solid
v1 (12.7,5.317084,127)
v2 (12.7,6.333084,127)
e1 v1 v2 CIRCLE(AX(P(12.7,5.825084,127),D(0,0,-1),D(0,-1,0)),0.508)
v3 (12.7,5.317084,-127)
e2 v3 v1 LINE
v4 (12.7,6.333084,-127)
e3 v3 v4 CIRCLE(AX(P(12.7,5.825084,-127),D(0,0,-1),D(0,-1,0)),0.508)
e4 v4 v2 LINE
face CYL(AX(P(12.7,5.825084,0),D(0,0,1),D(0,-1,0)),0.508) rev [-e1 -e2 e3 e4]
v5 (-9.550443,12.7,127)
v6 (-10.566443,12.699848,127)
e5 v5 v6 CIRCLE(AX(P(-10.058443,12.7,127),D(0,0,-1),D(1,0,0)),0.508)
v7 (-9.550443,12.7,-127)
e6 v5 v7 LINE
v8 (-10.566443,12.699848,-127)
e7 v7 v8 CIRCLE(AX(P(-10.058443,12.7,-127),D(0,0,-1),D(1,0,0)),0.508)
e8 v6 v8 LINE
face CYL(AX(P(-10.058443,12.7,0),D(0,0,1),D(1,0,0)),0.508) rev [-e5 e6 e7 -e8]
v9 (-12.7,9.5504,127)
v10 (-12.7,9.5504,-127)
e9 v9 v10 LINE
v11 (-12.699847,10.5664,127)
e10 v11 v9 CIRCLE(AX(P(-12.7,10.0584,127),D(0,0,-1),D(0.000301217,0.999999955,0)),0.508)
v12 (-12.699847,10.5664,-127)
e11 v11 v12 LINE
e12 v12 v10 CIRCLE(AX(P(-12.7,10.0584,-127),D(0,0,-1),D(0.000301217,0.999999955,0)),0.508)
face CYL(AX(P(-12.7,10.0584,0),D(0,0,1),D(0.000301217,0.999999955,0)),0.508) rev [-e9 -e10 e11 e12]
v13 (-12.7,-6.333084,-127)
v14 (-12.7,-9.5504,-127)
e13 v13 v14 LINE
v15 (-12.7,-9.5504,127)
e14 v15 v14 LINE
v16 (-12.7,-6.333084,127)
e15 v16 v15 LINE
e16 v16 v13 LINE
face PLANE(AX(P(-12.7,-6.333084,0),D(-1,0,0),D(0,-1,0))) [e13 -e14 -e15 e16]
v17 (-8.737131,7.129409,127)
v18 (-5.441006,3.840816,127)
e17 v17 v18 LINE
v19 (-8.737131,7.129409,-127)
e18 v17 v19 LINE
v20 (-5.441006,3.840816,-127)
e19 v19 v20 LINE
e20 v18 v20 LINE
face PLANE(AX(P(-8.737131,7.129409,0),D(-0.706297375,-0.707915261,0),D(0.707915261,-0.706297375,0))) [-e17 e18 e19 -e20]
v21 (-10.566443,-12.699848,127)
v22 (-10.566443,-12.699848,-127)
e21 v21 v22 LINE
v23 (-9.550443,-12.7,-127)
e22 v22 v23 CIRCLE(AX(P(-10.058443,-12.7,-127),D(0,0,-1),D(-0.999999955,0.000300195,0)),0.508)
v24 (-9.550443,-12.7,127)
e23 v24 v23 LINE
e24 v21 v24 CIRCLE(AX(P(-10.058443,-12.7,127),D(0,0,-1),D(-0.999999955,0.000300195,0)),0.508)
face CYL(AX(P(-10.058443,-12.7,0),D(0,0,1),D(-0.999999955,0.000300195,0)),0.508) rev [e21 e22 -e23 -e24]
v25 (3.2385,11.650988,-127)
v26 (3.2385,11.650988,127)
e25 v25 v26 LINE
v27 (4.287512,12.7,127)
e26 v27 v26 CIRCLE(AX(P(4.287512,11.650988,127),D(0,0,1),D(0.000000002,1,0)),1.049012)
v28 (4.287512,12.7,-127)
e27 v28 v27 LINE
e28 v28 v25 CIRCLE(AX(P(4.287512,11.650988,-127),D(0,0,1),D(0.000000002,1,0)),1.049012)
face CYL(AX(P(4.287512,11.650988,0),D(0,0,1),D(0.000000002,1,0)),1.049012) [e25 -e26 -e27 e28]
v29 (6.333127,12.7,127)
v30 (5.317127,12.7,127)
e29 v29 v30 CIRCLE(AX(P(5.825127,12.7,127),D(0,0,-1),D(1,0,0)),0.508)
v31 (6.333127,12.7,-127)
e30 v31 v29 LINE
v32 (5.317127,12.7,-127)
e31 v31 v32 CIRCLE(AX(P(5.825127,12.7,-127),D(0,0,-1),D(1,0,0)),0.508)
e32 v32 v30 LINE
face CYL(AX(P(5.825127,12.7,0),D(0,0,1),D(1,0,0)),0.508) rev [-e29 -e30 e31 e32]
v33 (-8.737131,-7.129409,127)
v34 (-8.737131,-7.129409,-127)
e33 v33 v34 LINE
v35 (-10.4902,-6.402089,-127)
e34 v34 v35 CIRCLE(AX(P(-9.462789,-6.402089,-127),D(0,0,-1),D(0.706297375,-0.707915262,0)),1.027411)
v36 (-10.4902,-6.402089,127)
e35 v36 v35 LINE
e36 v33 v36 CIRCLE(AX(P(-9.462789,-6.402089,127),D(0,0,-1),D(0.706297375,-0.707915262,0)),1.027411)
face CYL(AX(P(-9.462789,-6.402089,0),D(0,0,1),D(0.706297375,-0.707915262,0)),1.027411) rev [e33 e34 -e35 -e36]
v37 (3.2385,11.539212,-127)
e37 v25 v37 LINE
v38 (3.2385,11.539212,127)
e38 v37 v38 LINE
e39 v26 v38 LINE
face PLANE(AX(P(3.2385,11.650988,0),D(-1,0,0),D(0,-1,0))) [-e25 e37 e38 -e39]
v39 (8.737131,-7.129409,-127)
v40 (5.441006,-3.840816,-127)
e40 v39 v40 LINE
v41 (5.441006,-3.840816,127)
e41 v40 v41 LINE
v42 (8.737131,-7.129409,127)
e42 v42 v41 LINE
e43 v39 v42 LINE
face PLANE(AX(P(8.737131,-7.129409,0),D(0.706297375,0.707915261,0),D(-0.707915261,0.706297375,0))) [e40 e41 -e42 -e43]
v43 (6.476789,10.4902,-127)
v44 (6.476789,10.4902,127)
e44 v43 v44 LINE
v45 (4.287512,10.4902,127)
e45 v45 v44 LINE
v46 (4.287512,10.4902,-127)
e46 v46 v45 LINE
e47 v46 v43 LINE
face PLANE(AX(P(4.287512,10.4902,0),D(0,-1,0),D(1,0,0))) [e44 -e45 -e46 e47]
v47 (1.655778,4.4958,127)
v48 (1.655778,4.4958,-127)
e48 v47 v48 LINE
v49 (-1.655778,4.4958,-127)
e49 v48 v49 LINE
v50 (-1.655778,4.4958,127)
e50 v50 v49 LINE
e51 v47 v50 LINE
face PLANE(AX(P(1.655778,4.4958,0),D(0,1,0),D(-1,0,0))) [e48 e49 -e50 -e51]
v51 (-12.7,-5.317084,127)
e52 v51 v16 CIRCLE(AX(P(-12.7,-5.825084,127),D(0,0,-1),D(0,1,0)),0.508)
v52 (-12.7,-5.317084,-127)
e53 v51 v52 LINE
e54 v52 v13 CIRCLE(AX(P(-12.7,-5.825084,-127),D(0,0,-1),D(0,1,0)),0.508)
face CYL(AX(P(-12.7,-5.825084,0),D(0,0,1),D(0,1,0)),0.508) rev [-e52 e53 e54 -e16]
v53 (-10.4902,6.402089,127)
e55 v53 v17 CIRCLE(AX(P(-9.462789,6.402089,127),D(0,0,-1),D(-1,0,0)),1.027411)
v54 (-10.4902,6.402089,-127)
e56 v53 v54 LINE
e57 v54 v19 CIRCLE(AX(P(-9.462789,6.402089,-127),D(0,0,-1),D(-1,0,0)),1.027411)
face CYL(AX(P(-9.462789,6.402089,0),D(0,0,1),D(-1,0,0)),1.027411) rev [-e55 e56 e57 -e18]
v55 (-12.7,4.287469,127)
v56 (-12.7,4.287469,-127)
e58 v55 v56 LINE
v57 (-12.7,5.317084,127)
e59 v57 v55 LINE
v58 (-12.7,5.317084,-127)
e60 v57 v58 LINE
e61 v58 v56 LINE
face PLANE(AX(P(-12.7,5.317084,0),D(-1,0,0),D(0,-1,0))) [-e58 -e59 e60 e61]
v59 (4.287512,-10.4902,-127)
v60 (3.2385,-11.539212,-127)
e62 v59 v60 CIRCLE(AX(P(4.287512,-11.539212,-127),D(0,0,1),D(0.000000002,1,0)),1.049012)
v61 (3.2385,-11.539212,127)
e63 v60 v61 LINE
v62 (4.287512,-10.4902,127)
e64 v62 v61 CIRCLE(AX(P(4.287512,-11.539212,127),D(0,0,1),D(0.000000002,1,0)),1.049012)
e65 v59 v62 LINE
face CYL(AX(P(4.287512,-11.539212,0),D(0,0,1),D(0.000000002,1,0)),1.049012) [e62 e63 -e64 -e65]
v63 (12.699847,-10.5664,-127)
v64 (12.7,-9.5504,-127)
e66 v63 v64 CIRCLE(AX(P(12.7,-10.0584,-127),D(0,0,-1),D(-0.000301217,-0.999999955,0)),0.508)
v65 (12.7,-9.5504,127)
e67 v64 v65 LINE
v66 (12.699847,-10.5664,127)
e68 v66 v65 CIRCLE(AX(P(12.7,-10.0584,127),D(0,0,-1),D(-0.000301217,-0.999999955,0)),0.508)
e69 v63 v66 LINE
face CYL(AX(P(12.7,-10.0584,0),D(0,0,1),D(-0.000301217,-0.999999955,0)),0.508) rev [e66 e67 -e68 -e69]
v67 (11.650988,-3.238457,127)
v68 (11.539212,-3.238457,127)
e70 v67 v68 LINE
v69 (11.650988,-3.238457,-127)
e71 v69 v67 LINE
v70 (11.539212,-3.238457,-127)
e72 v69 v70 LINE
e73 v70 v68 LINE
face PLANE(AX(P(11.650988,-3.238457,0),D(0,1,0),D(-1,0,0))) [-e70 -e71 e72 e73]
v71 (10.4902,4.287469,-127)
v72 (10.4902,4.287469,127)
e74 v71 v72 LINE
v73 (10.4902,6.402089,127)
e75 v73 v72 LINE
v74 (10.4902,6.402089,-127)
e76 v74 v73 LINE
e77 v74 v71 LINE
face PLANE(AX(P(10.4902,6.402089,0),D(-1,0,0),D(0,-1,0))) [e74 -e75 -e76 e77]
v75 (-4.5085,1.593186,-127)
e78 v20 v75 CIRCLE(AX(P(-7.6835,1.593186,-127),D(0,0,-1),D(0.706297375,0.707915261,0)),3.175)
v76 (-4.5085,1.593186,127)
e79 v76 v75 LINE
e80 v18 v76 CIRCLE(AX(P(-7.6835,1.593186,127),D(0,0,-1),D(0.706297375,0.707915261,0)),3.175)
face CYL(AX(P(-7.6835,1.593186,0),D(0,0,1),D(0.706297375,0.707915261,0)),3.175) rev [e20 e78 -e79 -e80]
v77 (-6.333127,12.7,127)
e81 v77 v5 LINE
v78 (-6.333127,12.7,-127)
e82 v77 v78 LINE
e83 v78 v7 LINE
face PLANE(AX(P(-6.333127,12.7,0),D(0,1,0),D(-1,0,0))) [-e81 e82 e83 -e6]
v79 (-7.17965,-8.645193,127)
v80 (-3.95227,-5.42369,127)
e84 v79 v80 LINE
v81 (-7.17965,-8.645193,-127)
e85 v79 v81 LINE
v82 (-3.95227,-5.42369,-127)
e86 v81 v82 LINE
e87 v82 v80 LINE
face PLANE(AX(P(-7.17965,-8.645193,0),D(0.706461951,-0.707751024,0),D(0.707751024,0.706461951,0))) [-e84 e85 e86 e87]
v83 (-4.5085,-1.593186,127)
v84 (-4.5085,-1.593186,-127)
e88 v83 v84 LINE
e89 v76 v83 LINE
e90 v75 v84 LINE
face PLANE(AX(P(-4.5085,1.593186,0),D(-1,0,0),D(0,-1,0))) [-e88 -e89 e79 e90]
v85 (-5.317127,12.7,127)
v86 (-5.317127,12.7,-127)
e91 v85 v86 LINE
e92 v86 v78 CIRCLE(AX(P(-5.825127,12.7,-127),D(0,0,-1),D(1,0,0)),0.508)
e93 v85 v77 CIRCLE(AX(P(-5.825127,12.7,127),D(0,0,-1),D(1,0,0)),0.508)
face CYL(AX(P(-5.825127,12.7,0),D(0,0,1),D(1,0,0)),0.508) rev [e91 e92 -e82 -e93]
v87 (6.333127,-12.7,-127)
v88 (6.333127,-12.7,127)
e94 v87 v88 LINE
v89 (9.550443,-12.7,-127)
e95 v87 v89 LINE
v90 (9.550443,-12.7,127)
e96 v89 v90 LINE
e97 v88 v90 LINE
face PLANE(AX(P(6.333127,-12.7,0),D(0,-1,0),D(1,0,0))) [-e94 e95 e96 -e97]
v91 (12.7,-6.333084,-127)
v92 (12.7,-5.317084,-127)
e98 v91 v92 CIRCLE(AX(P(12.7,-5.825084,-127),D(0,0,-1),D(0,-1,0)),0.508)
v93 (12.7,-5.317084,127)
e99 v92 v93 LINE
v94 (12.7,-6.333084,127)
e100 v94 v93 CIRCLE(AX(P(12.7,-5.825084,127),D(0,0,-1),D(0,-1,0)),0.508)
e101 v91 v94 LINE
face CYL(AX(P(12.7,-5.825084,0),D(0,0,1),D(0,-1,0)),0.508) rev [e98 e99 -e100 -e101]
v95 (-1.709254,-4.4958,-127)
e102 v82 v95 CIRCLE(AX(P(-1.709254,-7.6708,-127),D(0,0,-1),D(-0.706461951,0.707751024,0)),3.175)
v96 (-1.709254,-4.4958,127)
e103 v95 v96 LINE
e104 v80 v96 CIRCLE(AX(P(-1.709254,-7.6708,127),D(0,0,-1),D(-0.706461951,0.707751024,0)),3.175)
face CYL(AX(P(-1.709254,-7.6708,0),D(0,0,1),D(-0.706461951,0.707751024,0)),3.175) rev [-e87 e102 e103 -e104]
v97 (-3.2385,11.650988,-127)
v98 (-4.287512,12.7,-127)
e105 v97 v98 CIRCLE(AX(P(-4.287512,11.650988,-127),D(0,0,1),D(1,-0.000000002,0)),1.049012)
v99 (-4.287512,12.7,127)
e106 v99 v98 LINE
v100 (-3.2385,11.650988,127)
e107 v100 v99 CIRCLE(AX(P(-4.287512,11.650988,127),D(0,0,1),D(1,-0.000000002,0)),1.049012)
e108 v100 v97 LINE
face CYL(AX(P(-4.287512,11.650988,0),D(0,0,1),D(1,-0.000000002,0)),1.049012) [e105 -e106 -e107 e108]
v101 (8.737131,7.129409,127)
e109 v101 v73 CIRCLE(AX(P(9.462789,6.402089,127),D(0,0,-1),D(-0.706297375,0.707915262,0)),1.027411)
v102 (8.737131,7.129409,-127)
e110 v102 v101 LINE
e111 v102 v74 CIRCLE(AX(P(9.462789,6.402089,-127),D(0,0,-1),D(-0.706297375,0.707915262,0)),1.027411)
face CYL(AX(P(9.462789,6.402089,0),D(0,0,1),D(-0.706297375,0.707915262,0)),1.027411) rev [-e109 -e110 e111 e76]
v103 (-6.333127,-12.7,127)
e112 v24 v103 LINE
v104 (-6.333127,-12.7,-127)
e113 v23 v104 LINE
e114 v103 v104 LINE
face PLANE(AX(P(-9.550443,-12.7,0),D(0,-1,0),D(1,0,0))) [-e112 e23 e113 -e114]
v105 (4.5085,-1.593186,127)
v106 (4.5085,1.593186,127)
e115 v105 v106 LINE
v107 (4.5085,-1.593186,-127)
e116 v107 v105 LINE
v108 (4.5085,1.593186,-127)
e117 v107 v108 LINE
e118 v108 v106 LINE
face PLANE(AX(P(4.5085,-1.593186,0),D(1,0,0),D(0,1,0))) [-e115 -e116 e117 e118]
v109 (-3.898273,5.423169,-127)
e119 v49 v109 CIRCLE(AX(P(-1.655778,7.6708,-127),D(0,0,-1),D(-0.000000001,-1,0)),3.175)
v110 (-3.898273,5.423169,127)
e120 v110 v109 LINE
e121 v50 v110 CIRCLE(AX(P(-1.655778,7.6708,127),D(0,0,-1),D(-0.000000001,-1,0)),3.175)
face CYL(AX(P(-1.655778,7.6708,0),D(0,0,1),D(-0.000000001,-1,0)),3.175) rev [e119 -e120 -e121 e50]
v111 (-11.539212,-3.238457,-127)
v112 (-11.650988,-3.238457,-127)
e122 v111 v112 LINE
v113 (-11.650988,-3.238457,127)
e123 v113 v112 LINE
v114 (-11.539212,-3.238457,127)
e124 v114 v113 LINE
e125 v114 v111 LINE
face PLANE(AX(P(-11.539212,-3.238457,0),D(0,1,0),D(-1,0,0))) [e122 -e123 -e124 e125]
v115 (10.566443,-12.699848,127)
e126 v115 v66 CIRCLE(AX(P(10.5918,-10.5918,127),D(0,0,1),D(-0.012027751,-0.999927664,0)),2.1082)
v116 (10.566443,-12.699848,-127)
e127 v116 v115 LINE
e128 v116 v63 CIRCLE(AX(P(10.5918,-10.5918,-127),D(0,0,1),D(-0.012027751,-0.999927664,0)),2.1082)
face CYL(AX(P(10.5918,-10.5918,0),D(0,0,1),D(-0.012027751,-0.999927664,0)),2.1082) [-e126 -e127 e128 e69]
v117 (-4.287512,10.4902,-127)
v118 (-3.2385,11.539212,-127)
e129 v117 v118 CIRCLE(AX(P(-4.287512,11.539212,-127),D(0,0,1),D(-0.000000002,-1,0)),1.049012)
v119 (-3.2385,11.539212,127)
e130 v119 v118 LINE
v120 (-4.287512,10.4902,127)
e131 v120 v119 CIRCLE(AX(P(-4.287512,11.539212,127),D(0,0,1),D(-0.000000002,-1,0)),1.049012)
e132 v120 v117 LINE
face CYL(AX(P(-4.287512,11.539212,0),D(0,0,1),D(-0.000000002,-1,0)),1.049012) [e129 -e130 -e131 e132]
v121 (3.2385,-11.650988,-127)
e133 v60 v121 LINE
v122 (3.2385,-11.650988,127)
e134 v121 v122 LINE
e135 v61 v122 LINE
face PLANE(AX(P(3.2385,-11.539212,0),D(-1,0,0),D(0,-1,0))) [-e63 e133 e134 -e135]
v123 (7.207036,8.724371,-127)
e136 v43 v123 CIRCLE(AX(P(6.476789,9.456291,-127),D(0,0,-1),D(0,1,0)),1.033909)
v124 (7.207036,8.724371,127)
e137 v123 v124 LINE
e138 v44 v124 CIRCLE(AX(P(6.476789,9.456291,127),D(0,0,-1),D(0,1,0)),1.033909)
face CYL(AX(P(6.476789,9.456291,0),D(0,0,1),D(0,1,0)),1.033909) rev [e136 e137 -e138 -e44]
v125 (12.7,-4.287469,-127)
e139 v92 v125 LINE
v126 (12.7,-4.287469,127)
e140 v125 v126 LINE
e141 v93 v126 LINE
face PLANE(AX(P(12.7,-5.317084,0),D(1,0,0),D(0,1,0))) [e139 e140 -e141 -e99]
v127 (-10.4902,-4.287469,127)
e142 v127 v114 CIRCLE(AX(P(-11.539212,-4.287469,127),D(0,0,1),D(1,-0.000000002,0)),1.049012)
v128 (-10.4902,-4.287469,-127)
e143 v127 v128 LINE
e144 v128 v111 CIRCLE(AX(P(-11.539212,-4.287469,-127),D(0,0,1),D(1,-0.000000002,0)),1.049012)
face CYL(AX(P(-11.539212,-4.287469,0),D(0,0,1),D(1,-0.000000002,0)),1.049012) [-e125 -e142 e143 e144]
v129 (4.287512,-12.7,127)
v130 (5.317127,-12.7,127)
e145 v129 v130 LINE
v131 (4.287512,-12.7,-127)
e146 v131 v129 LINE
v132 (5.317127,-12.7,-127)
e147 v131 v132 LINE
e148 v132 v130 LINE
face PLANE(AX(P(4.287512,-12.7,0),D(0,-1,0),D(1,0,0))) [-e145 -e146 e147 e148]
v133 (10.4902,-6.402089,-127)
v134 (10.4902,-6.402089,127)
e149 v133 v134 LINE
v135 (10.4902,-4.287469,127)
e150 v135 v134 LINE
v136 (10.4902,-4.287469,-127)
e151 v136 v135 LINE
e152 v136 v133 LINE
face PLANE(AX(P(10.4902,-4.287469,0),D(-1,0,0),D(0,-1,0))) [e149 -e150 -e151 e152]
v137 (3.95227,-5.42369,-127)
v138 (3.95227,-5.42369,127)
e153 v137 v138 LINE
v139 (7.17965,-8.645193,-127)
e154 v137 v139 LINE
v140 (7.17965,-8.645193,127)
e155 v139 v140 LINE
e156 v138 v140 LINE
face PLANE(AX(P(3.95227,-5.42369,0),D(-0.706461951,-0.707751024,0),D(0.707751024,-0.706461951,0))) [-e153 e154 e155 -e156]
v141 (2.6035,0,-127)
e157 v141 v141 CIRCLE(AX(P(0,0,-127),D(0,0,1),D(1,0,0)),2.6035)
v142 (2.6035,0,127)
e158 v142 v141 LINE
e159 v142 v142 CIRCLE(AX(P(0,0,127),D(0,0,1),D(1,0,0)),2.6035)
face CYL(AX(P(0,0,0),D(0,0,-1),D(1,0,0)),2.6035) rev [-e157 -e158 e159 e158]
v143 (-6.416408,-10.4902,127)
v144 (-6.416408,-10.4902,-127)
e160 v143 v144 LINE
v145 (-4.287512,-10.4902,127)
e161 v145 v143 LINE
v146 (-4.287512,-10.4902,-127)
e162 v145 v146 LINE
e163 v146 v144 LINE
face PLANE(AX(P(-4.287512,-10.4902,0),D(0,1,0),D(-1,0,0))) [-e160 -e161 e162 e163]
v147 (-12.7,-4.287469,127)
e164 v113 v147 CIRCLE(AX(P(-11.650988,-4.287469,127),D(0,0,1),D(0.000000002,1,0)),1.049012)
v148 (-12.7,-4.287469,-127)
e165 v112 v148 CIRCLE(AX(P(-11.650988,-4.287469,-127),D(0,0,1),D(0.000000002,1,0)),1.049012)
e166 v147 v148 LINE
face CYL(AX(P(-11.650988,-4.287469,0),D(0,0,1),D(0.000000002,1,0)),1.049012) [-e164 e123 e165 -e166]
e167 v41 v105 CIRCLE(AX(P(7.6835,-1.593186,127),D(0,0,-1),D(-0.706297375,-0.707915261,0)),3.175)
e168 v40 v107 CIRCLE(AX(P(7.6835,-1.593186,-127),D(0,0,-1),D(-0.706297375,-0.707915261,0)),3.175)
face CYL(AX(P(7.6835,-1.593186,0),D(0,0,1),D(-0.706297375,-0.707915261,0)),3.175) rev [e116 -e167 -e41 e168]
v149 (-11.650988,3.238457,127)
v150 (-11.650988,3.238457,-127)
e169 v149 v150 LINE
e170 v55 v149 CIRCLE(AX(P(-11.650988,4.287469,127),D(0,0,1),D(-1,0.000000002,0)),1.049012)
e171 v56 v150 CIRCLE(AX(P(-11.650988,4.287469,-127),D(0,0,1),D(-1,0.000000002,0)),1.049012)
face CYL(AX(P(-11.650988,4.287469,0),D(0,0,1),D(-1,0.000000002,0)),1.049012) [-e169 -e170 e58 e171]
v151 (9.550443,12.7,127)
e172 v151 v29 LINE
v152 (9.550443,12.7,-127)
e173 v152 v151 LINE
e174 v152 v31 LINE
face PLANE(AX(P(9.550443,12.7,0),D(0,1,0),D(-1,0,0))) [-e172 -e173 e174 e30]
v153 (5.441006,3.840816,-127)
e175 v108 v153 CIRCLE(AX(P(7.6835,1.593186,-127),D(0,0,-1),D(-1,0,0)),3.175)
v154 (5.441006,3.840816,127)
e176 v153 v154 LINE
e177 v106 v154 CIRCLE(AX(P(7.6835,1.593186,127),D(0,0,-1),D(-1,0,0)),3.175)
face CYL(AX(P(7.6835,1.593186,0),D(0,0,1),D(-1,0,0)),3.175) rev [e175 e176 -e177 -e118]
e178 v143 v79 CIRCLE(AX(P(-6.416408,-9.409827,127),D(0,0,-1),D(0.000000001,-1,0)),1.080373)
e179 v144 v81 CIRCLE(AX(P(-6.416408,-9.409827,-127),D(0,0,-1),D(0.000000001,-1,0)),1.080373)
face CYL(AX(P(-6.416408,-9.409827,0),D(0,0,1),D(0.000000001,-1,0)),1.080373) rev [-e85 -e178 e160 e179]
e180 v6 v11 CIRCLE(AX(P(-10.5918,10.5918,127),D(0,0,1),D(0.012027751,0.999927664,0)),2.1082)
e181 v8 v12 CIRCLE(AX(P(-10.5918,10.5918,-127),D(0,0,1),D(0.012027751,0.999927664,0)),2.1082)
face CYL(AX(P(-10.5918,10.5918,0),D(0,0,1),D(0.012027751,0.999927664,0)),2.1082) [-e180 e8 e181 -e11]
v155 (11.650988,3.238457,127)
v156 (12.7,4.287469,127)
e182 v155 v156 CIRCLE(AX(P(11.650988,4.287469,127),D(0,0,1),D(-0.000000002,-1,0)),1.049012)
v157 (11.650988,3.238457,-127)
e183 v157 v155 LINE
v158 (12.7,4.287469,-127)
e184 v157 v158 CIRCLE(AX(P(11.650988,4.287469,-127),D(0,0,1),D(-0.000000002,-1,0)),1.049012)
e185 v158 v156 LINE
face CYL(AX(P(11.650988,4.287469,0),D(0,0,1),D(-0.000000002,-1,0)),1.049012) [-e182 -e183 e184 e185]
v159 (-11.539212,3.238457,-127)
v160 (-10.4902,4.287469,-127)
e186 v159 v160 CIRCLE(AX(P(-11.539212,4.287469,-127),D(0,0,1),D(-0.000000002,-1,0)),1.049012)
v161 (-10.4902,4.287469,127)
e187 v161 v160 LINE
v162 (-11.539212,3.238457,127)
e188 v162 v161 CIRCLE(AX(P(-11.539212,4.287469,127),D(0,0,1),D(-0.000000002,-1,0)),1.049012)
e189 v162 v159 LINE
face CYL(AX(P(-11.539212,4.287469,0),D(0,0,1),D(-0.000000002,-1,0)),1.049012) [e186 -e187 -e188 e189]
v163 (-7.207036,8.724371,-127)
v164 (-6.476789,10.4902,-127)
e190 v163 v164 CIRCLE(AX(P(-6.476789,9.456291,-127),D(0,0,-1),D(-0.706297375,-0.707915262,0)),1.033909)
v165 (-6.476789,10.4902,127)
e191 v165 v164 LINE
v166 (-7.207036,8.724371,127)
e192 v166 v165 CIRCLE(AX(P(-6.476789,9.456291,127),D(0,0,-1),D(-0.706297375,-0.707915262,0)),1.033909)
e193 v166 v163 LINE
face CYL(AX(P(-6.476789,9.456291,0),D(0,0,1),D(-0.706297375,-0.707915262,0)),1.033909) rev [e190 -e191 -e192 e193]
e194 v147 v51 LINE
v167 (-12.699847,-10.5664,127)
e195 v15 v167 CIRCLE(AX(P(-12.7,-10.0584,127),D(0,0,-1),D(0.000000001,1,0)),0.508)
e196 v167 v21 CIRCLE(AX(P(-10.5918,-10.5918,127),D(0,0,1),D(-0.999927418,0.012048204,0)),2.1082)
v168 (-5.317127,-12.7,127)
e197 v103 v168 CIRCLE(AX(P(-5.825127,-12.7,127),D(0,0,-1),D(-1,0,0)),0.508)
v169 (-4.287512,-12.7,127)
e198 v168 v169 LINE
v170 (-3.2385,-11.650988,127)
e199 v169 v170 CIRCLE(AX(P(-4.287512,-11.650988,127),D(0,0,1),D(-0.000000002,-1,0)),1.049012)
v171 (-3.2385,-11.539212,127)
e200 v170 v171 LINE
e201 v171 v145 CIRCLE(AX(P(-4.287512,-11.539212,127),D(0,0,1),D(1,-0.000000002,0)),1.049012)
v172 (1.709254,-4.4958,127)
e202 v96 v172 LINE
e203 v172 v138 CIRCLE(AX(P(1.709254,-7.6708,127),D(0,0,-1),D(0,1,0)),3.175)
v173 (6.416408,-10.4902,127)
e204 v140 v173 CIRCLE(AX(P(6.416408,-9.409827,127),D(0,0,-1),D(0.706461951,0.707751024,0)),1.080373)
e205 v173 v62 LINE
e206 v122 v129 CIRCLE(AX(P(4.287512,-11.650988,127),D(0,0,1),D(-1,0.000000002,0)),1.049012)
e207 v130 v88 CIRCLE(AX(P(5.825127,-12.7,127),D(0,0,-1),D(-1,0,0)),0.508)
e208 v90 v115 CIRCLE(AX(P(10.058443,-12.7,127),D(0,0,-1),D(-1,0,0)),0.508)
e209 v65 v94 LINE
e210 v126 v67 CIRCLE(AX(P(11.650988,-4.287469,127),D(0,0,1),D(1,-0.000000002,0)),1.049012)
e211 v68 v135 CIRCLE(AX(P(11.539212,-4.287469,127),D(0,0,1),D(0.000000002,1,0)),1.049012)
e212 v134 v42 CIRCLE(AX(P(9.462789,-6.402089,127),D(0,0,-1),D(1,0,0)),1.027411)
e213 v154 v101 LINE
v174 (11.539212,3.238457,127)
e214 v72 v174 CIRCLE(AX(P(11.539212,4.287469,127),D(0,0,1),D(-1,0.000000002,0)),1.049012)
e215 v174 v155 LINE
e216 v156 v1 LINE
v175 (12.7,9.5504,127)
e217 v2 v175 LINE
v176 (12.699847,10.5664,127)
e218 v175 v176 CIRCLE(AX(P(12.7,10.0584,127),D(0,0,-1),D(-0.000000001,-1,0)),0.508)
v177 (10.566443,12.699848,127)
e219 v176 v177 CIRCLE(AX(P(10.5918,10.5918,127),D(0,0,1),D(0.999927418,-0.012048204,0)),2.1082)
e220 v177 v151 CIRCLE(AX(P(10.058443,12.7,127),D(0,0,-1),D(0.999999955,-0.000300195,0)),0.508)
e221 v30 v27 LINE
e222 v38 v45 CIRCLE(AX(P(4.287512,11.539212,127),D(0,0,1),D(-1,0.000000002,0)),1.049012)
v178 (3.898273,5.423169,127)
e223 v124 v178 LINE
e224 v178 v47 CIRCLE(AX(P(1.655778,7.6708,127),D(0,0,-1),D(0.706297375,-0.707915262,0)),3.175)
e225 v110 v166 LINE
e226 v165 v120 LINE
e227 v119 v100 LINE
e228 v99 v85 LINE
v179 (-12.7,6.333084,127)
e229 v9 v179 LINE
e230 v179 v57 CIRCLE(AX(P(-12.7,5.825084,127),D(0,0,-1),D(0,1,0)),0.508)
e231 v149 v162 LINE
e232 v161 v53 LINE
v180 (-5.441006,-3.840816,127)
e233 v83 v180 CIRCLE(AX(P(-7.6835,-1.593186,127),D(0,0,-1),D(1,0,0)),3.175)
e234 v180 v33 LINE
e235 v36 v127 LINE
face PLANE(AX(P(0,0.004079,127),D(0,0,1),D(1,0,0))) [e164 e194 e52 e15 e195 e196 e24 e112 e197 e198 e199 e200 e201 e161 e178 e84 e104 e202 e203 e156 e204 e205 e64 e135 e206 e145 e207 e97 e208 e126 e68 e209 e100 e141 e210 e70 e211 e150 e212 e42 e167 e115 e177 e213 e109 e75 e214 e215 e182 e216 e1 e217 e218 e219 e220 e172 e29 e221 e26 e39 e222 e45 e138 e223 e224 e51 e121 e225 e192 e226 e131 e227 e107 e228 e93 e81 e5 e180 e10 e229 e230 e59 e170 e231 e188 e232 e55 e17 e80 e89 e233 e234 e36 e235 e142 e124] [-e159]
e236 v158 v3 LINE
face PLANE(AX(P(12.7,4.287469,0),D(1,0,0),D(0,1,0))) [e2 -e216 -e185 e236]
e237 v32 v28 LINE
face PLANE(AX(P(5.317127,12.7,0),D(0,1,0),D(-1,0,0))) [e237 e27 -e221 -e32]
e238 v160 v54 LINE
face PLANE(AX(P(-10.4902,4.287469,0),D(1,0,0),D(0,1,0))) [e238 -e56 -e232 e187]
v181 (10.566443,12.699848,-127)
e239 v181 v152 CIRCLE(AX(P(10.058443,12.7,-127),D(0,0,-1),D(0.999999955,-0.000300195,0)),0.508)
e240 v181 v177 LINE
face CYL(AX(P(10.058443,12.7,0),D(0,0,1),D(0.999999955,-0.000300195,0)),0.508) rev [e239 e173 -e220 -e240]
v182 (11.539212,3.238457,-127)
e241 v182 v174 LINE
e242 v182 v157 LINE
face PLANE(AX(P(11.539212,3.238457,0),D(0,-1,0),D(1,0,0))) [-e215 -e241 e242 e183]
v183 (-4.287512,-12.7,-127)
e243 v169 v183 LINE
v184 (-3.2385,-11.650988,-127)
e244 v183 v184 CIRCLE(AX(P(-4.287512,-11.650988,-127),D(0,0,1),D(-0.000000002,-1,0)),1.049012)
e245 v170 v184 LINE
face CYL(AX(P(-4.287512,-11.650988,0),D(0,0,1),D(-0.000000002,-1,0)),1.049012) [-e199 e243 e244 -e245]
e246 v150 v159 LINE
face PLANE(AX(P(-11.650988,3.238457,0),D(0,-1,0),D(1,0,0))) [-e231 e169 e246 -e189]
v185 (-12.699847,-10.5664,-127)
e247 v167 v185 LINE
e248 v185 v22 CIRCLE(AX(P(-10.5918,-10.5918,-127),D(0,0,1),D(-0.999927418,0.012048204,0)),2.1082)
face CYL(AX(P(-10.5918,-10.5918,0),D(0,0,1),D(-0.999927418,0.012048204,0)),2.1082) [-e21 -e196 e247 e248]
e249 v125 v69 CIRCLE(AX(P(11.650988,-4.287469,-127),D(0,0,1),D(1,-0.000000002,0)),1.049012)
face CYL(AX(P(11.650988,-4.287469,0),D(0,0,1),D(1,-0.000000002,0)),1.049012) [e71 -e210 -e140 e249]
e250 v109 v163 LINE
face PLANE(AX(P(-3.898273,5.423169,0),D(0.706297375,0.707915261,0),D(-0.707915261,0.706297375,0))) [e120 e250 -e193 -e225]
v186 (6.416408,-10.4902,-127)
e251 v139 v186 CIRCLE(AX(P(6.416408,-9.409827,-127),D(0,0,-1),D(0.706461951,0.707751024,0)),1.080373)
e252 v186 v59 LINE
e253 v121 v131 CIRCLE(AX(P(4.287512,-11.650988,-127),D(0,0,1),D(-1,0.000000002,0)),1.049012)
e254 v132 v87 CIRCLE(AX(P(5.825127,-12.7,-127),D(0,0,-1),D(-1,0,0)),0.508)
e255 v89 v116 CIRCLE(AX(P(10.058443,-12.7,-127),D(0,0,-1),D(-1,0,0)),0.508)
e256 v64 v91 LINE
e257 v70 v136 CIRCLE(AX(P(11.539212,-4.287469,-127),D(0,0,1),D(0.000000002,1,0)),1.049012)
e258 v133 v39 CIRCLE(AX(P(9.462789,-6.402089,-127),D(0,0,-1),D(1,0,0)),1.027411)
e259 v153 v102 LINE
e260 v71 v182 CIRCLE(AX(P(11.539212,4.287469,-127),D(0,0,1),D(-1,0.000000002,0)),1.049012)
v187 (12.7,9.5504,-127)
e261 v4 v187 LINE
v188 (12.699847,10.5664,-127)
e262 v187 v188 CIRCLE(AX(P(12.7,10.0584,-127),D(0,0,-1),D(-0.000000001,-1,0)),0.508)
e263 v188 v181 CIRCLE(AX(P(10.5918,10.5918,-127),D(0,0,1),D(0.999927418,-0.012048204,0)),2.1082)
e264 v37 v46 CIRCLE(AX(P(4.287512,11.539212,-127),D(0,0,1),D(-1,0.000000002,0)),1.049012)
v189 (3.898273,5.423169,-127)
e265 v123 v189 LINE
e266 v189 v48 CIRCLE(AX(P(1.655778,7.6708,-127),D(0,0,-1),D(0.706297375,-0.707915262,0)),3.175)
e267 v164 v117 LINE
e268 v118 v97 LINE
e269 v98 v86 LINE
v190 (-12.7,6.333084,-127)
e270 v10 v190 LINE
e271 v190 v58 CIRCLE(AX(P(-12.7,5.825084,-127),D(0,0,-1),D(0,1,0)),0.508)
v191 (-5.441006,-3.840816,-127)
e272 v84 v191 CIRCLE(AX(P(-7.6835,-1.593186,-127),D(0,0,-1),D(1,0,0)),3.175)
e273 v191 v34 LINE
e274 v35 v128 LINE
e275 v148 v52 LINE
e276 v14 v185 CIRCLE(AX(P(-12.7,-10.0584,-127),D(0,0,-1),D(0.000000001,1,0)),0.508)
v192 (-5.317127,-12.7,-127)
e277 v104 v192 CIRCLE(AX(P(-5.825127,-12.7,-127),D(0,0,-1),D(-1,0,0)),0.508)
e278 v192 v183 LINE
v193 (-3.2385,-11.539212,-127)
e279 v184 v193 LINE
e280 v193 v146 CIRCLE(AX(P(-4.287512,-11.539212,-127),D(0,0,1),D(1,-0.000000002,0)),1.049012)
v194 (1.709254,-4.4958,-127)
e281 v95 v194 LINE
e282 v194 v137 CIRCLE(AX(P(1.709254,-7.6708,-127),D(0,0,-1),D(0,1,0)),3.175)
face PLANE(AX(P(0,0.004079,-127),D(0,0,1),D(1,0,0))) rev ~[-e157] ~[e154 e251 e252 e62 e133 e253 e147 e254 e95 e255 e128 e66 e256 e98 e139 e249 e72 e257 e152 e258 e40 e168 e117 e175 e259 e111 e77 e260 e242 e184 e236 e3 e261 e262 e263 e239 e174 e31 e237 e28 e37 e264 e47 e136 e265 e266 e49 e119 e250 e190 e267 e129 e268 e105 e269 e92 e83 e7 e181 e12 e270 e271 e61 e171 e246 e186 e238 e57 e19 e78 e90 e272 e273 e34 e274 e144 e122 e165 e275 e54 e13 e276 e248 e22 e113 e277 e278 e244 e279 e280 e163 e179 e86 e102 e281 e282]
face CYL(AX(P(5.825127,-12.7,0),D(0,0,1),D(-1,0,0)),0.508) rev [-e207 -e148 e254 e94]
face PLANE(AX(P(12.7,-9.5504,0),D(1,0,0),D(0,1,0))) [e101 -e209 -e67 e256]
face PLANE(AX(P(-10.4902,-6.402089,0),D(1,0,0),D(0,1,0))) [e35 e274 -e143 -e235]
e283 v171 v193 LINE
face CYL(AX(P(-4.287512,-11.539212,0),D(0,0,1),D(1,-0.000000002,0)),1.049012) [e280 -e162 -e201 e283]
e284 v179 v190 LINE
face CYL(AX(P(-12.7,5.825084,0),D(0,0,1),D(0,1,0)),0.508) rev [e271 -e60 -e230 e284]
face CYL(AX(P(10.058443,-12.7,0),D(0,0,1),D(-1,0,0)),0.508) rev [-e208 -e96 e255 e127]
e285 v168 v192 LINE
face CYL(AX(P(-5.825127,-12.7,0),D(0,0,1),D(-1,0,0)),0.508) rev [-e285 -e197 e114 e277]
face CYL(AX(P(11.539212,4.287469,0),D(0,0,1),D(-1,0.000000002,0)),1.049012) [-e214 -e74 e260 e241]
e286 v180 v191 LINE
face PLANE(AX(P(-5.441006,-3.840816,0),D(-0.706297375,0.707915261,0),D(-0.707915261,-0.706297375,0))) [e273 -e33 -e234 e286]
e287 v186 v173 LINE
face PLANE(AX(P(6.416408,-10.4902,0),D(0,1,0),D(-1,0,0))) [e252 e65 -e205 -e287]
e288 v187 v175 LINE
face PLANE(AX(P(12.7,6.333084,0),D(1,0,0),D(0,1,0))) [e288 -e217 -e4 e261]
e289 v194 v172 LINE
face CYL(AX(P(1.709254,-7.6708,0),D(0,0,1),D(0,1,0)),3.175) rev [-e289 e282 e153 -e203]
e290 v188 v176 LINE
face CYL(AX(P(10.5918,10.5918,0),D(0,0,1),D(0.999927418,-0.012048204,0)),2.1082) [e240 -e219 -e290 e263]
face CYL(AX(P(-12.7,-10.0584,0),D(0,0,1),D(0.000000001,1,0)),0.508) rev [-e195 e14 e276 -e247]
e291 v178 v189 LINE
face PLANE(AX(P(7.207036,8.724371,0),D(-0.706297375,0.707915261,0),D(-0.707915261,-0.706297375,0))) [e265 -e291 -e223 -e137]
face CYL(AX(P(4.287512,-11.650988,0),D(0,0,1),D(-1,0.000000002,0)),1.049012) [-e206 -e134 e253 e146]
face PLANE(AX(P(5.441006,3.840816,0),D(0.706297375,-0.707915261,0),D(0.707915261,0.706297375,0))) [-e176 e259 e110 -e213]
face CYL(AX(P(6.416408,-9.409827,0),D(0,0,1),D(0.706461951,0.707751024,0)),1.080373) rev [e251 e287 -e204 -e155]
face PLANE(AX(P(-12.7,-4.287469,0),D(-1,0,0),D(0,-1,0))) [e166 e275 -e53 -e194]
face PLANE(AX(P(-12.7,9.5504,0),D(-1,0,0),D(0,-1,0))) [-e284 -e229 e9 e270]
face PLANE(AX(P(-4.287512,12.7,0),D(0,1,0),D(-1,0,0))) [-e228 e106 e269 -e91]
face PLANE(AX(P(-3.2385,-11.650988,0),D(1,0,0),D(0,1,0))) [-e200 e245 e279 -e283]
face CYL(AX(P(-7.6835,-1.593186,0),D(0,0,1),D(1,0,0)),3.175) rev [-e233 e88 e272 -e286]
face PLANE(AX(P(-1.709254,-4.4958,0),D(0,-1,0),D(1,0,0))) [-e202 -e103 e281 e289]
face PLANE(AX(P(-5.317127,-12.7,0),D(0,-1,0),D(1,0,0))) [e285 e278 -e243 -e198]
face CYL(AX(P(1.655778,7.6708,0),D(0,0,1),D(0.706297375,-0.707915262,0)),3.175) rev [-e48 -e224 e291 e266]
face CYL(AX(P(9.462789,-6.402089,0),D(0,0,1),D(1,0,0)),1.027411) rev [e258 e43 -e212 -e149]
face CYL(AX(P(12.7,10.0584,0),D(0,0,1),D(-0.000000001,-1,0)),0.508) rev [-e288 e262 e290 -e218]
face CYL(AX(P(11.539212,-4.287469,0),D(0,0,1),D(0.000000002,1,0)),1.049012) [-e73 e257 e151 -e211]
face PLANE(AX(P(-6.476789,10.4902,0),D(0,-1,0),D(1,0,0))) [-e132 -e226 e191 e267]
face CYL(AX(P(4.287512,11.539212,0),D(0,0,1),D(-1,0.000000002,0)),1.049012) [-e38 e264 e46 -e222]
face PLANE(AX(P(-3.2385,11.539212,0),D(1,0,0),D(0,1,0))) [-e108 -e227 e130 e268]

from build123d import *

# Parameters (mm, degrees)
SKETCH1_R           = 2.6035
BOSS_EXTRUDE1_DEPTH = 127


with BuildPart() as part:
    # Sketch1 → Boss-Extrude1 (new body, symmetric)
    with BuildSketch(Plane.XY):
        with BuildLine():
            Line((-7.179650497, -8.645192506), (-3.952270251, -5.423690499))
            ThreePointArc((-3.952270251, -5.423690499), (-2.922936451, -4.736929036), (-1.709253557, -4.4958))
            Line((-1.709253557, -4.4958), (1.709253557, -4.4958))
            ThreePointArc((1.709253557, -4.4958), (2.922936451, -4.736929036), (3.952270251, -5.423690499))
            Line((3.952270251, -5.423690499), (7.179650497, -8.645192506))
            ThreePointArc((7.179650497, -8.645192506), (7.41473083, -9.822813117), (6.416408329, -10.4902))
            Line((6.416408329, -10.4902), (4.287512407, -10.4902))
            ThreePointArc((4.287512407, -10.4902), (3.54574862, -10.79744862), (3.2385, -11.539212407))
            Line((3.2385, -11.539212407), (3.2385, -11.650987593))
            ThreePointArc((3.2385, -11.650987593), (3.54574862, -12.39275138), (4.287512407, -12.7))
            Line((4.287512407, -12.7), (5.317126718, -12.7))
            ThreePointArc((5.317126718, -12.7), (5.825126718, -12.192), (6.333126718, -12.7))
            Line((6.333126718, -12.7), (9.550443118, -12.7))
            ThreePointArc((9.550443118, -12.7), (10.058366869, -12.192000006), (10.566443095, -12.699847501))
            ThreePointArc((10.566443095, -12.699847501), (12.082537762, -12.08250727), (12.699846982, -10.566399977))
            ThreePointArc((12.699846982, -10.566399977), (12.192000006, -10.058323491), (12.7, -9.5504))
            Line((12.7, -9.5504), (12.7, -6.3330836))
            ThreePointArc((12.7, -6.3330836), (12.192, -5.8250836), (12.7, -5.3170836))
            Line((12.7, -5.3170836), (12.7, -4.287469289))
            ThreePointArc((12.7, -4.287469289), (12.39275138, -3.545705502), (11.650987593, -3.238456882))
            Line((11.650987593, -3.238456882), (11.539212407, -3.238456882))
            ThreePointArc((11.539212407, -3.238456882), (10.79744862, -3.545705502), (10.4902, -4.287469289))
            Line((10.4902, -4.287469289), (10.4902, -6.402089023))
            ThreePointArc((10.4902, -6.402089023), (9.856505071, -7.351067942), (8.737131347, -7.129408934))
            Line((8.737131347, -7.129408934), (5.441005833, -3.840816462))
            ThreePointArc((5.441005833, -3.840816462), (4.750877967, -2.809883091), (4.5085, -1.593185507))
            Line((4.5085, -1.593185507), (4.5085, 1.593185507))
            ThreePointArc((4.5085, 1.593185507), (4.750877967, 2.809883091), (5.441005833, 3.840816462))
            Line((5.441005833, 3.840816462), (8.737131347, 7.129408934))
            ThreePointArc((8.737131347, 7.129408934), (9.856505071, 7.351067942), (10.4902, 6.402089023))
            Line((10.4902, 6.402089023), (10.4902, 4.287469289))
            ThreePointArc((10.4902, 4.287469289), (10.79744862, 3.545705502), (11.539212407, 3.238456882))
            Line((11.539212407, 3.238456882), (11.650987593, 3.238456882))
            ThreePointArc((11.650987593, 3.238456882), (12.39275138, 3.545705502), (12.7, 4.287469289))
            Line((12.7, 4.287469289), (12.7, 5.3170836))
            ThreePointArc((12.7, 5.3170836), (12.192, 5.8250836), (12.7, 6.3330836))
            Line((12.7, 6.3330836), (12.7, 9.5504))
            ThreePointArc((12.7, 9.5504), (12.192000006, 10.058323491), (12.699846982, 10.566399977))
            ThreePointArc((12.699846982, 10.566399977), (12.082537762, 12.08250727), (10.566443095, 12.699847501))
            ThreePointArc((10.566443095, 12.699847501), (10.058366869, 12.192000006), (9.550443118, 12.7))
            Line((9.550443118, 12.7), (6.333126718, 12.7))
            ThreePointArc((6.333126718, 12.7), (5.825126718, 12.192), (5.317126718, 12.7))
            Line((5.317126718, 12.7), (4.287512407, 12.7))
            ThreePointArc((4.287512407, 12.7), (3.54574862, 12.39275138), (3.2385, 11.650987593))
            Line((3.2385, 11.650987593), (3.2385, 11.539212407))
            ThreePointArc((3.2385, 11.539212407), (3.54574862, 10.79744862), (4.287512407, 10.4902))
            Line((4.287512407, 10.4902), (6.476788598, 10.4902))
            ThreePointArc((6.476788598, 10.4902), (7.432222385, 9.85140422), (7.207036008, 8.724370562))
            Line((7.207036008, 8.724370562), (3.898272566, 5.423169045))
            ThreePointArc((3.898272566, 5.423169045), (2.869120213, 4.736787962), (1.655778399, 4.4958))
            Line((1.655778399, 4.4958), (-1.655778399, 4.4958))
            ThreePointArc((-1.655778399, 4.4958), (-2.869120213, 4.736787962), (-3.898272566, 5.423169045))
            Line((-3.898272566, 5.423169045), (-7.207036008, 8.724370562))
            ThreePointArc((-7.207036008, 8.724370562), (-7.432222385, 9.85140422), (-6.476788598, 10.4902))
            Line((-6.476788598, 10.4902), (-4.287512407, 10.4902))
            ThreePointArc((-4.287512407, 10.4902), (-3.54574862, 10.79744862), (-3.2385, 11.539212407))
            Line((-3.2385, 11.539212407), (-3.2385, 11.650987593))
            ThreePointArc((-3.2385, 11.650987593), (-3.54574862, 12.39275138), (-4.287512407, 12.7))
            Line((-4.287512407, 12.7), (-5.317126718, 12.7))
            ThreePointArc((-5.317126718, 12.7), (-5.825126718, 12.192), (-6.333126718, 12.7))
            Line((-6.333126718, 12.7), (-9.550443118, 12.7))
            ThreePointArc((-9.550443118, 12.7), (-10.058366869, 12.192000006), (-10.566443095, 12.699847501))
            ThreePointArc((-10.566443095, 12.699847501), (-12.082537762, 12.08250727), (-12.699846982, 10.566399977))
            ThreePointArc((-12.699846982, 10.566399977), (-12.192000006, 10.058323491), (-12.7, 9.5504))
            Line((-12.7, 9.5504), (-12.7, 6.3330836))
            ThreePointArc((-12.7, 6.3330836), (-12.192, 5.8250836), (-12.7, 5.3170836))
            Line((-12.7, 5.3170836), (-12.7, 4.287469289))
            ThreePointArc((-12.7, 4.287469289), (-12.39275138, 3.545705502), (-11.650987593, 3.238456882))
            Line((-11.650987593, 3.238456882), (-11.539212407, 3.238456882))
            ThreePointArc((-11.539212407, 3.238456882), (-10.79744862, 3.545705502), (-10.4902, 4.287469289))
            Line((-10.4902, 4.287469289), (-10.4902, 6.402089023))
            ThreePointArc((-10.4902, 6.402089023), (-9.856505071, 7.351067942), (-8.737131347, 7.129408934))
            Line((-8.737131347, 7.129408934), (-5.441005833, 3.840816462))
            ThreePointArc((-5.441005833, 3.840816462), (-4.750877967, 2.809883091), (-4.5085, 1.593185507))
            Line((-4.5085, 1.593185507), (-4.5085, -1.593185507))
            ThreePointArc((-4.5085, -1.593185507), (-4.750877967, -2.809883091), (-5.441005833, -3.840816462))
            Line((-5.441005833, -3.840816462), (-8.737131347, -7.129408934))
            ThreePointArc((-8.737131347, -7.129408934), (-9.856505071, -7.351067942), (-10.4902, -6.402089023))
            Line((-10.4902, -6.402089023), (-10.4902, -4.287469289))
            ThreePointArc((-10.4902, -4.287469289), (-10.79744862, -3.545705502), (-11.539212407, -3.238456882))
            Line((-11.539212407, -3.238456882), (-11.650987593, -3.238456882))
            ThreePointArc((-11.650987593, -3.238456882), (-12.39275138, -3.545705502), (-12.7, -4.287469289))
            Line((-12.7, -4.287469289), (-12.7, -5.3170836))
            ThreePointArc((-12.7, -5.3170836), (-12.192, -5.8250836), (-12.7, -6.3330836))
            Line((-12.7, -6.3330836), (-12.7, -9.5504))
            ThreePointArc((-12.7, -9.5504), (-12.192000006, -10.058323491), (-12.699846982, -10.566399977))
            ThreePointArc((-12.699846982, -10.566399977), (-12.082537762, -12.08250727), (-10.566443095, -12.699847501))
            ThreePointArc((-10.566443095, -12.699847501), (-10.058366869, -12.192000006), (-9.550443118, -12.7))
            Line((-9.550443118, -12.7), (-6.333126718, -12.7))
            ThreePointArc((-6.333126718, -12.7), (-5.825126718, -12.192), (-5.317126718, -12.7))
            Line((-5.317126718, -12.7), (-4.287512407, -12.7))
            ThreePointArc((-4.287512407, -12.7), (-3.54574862, -12.39275138), (-3.2385, -11.650987593))
            Line((-3.2385, -11.650987593), (-3.2385, -11.539212407))
            ThreePointArc((-3.2385, -11.539212407), (-3.54574862, -10.79744862), (-4.287512407, -10.4902))
            Line((-4.287512407, -10.4902), (-6.416408329, -10.4902))
            ThreePointArc((-6.416408329, -10.4902), (-7.41473083, -9.822813117), (-7.179650497, -8.645192506))
        make_face()
        Circle(SKETCH1_R, mode=Mode.SUBTRACT)
    extrude(amount=BOSS_EXTRUDE1_DEPTH, both=True)


solid = part.part
